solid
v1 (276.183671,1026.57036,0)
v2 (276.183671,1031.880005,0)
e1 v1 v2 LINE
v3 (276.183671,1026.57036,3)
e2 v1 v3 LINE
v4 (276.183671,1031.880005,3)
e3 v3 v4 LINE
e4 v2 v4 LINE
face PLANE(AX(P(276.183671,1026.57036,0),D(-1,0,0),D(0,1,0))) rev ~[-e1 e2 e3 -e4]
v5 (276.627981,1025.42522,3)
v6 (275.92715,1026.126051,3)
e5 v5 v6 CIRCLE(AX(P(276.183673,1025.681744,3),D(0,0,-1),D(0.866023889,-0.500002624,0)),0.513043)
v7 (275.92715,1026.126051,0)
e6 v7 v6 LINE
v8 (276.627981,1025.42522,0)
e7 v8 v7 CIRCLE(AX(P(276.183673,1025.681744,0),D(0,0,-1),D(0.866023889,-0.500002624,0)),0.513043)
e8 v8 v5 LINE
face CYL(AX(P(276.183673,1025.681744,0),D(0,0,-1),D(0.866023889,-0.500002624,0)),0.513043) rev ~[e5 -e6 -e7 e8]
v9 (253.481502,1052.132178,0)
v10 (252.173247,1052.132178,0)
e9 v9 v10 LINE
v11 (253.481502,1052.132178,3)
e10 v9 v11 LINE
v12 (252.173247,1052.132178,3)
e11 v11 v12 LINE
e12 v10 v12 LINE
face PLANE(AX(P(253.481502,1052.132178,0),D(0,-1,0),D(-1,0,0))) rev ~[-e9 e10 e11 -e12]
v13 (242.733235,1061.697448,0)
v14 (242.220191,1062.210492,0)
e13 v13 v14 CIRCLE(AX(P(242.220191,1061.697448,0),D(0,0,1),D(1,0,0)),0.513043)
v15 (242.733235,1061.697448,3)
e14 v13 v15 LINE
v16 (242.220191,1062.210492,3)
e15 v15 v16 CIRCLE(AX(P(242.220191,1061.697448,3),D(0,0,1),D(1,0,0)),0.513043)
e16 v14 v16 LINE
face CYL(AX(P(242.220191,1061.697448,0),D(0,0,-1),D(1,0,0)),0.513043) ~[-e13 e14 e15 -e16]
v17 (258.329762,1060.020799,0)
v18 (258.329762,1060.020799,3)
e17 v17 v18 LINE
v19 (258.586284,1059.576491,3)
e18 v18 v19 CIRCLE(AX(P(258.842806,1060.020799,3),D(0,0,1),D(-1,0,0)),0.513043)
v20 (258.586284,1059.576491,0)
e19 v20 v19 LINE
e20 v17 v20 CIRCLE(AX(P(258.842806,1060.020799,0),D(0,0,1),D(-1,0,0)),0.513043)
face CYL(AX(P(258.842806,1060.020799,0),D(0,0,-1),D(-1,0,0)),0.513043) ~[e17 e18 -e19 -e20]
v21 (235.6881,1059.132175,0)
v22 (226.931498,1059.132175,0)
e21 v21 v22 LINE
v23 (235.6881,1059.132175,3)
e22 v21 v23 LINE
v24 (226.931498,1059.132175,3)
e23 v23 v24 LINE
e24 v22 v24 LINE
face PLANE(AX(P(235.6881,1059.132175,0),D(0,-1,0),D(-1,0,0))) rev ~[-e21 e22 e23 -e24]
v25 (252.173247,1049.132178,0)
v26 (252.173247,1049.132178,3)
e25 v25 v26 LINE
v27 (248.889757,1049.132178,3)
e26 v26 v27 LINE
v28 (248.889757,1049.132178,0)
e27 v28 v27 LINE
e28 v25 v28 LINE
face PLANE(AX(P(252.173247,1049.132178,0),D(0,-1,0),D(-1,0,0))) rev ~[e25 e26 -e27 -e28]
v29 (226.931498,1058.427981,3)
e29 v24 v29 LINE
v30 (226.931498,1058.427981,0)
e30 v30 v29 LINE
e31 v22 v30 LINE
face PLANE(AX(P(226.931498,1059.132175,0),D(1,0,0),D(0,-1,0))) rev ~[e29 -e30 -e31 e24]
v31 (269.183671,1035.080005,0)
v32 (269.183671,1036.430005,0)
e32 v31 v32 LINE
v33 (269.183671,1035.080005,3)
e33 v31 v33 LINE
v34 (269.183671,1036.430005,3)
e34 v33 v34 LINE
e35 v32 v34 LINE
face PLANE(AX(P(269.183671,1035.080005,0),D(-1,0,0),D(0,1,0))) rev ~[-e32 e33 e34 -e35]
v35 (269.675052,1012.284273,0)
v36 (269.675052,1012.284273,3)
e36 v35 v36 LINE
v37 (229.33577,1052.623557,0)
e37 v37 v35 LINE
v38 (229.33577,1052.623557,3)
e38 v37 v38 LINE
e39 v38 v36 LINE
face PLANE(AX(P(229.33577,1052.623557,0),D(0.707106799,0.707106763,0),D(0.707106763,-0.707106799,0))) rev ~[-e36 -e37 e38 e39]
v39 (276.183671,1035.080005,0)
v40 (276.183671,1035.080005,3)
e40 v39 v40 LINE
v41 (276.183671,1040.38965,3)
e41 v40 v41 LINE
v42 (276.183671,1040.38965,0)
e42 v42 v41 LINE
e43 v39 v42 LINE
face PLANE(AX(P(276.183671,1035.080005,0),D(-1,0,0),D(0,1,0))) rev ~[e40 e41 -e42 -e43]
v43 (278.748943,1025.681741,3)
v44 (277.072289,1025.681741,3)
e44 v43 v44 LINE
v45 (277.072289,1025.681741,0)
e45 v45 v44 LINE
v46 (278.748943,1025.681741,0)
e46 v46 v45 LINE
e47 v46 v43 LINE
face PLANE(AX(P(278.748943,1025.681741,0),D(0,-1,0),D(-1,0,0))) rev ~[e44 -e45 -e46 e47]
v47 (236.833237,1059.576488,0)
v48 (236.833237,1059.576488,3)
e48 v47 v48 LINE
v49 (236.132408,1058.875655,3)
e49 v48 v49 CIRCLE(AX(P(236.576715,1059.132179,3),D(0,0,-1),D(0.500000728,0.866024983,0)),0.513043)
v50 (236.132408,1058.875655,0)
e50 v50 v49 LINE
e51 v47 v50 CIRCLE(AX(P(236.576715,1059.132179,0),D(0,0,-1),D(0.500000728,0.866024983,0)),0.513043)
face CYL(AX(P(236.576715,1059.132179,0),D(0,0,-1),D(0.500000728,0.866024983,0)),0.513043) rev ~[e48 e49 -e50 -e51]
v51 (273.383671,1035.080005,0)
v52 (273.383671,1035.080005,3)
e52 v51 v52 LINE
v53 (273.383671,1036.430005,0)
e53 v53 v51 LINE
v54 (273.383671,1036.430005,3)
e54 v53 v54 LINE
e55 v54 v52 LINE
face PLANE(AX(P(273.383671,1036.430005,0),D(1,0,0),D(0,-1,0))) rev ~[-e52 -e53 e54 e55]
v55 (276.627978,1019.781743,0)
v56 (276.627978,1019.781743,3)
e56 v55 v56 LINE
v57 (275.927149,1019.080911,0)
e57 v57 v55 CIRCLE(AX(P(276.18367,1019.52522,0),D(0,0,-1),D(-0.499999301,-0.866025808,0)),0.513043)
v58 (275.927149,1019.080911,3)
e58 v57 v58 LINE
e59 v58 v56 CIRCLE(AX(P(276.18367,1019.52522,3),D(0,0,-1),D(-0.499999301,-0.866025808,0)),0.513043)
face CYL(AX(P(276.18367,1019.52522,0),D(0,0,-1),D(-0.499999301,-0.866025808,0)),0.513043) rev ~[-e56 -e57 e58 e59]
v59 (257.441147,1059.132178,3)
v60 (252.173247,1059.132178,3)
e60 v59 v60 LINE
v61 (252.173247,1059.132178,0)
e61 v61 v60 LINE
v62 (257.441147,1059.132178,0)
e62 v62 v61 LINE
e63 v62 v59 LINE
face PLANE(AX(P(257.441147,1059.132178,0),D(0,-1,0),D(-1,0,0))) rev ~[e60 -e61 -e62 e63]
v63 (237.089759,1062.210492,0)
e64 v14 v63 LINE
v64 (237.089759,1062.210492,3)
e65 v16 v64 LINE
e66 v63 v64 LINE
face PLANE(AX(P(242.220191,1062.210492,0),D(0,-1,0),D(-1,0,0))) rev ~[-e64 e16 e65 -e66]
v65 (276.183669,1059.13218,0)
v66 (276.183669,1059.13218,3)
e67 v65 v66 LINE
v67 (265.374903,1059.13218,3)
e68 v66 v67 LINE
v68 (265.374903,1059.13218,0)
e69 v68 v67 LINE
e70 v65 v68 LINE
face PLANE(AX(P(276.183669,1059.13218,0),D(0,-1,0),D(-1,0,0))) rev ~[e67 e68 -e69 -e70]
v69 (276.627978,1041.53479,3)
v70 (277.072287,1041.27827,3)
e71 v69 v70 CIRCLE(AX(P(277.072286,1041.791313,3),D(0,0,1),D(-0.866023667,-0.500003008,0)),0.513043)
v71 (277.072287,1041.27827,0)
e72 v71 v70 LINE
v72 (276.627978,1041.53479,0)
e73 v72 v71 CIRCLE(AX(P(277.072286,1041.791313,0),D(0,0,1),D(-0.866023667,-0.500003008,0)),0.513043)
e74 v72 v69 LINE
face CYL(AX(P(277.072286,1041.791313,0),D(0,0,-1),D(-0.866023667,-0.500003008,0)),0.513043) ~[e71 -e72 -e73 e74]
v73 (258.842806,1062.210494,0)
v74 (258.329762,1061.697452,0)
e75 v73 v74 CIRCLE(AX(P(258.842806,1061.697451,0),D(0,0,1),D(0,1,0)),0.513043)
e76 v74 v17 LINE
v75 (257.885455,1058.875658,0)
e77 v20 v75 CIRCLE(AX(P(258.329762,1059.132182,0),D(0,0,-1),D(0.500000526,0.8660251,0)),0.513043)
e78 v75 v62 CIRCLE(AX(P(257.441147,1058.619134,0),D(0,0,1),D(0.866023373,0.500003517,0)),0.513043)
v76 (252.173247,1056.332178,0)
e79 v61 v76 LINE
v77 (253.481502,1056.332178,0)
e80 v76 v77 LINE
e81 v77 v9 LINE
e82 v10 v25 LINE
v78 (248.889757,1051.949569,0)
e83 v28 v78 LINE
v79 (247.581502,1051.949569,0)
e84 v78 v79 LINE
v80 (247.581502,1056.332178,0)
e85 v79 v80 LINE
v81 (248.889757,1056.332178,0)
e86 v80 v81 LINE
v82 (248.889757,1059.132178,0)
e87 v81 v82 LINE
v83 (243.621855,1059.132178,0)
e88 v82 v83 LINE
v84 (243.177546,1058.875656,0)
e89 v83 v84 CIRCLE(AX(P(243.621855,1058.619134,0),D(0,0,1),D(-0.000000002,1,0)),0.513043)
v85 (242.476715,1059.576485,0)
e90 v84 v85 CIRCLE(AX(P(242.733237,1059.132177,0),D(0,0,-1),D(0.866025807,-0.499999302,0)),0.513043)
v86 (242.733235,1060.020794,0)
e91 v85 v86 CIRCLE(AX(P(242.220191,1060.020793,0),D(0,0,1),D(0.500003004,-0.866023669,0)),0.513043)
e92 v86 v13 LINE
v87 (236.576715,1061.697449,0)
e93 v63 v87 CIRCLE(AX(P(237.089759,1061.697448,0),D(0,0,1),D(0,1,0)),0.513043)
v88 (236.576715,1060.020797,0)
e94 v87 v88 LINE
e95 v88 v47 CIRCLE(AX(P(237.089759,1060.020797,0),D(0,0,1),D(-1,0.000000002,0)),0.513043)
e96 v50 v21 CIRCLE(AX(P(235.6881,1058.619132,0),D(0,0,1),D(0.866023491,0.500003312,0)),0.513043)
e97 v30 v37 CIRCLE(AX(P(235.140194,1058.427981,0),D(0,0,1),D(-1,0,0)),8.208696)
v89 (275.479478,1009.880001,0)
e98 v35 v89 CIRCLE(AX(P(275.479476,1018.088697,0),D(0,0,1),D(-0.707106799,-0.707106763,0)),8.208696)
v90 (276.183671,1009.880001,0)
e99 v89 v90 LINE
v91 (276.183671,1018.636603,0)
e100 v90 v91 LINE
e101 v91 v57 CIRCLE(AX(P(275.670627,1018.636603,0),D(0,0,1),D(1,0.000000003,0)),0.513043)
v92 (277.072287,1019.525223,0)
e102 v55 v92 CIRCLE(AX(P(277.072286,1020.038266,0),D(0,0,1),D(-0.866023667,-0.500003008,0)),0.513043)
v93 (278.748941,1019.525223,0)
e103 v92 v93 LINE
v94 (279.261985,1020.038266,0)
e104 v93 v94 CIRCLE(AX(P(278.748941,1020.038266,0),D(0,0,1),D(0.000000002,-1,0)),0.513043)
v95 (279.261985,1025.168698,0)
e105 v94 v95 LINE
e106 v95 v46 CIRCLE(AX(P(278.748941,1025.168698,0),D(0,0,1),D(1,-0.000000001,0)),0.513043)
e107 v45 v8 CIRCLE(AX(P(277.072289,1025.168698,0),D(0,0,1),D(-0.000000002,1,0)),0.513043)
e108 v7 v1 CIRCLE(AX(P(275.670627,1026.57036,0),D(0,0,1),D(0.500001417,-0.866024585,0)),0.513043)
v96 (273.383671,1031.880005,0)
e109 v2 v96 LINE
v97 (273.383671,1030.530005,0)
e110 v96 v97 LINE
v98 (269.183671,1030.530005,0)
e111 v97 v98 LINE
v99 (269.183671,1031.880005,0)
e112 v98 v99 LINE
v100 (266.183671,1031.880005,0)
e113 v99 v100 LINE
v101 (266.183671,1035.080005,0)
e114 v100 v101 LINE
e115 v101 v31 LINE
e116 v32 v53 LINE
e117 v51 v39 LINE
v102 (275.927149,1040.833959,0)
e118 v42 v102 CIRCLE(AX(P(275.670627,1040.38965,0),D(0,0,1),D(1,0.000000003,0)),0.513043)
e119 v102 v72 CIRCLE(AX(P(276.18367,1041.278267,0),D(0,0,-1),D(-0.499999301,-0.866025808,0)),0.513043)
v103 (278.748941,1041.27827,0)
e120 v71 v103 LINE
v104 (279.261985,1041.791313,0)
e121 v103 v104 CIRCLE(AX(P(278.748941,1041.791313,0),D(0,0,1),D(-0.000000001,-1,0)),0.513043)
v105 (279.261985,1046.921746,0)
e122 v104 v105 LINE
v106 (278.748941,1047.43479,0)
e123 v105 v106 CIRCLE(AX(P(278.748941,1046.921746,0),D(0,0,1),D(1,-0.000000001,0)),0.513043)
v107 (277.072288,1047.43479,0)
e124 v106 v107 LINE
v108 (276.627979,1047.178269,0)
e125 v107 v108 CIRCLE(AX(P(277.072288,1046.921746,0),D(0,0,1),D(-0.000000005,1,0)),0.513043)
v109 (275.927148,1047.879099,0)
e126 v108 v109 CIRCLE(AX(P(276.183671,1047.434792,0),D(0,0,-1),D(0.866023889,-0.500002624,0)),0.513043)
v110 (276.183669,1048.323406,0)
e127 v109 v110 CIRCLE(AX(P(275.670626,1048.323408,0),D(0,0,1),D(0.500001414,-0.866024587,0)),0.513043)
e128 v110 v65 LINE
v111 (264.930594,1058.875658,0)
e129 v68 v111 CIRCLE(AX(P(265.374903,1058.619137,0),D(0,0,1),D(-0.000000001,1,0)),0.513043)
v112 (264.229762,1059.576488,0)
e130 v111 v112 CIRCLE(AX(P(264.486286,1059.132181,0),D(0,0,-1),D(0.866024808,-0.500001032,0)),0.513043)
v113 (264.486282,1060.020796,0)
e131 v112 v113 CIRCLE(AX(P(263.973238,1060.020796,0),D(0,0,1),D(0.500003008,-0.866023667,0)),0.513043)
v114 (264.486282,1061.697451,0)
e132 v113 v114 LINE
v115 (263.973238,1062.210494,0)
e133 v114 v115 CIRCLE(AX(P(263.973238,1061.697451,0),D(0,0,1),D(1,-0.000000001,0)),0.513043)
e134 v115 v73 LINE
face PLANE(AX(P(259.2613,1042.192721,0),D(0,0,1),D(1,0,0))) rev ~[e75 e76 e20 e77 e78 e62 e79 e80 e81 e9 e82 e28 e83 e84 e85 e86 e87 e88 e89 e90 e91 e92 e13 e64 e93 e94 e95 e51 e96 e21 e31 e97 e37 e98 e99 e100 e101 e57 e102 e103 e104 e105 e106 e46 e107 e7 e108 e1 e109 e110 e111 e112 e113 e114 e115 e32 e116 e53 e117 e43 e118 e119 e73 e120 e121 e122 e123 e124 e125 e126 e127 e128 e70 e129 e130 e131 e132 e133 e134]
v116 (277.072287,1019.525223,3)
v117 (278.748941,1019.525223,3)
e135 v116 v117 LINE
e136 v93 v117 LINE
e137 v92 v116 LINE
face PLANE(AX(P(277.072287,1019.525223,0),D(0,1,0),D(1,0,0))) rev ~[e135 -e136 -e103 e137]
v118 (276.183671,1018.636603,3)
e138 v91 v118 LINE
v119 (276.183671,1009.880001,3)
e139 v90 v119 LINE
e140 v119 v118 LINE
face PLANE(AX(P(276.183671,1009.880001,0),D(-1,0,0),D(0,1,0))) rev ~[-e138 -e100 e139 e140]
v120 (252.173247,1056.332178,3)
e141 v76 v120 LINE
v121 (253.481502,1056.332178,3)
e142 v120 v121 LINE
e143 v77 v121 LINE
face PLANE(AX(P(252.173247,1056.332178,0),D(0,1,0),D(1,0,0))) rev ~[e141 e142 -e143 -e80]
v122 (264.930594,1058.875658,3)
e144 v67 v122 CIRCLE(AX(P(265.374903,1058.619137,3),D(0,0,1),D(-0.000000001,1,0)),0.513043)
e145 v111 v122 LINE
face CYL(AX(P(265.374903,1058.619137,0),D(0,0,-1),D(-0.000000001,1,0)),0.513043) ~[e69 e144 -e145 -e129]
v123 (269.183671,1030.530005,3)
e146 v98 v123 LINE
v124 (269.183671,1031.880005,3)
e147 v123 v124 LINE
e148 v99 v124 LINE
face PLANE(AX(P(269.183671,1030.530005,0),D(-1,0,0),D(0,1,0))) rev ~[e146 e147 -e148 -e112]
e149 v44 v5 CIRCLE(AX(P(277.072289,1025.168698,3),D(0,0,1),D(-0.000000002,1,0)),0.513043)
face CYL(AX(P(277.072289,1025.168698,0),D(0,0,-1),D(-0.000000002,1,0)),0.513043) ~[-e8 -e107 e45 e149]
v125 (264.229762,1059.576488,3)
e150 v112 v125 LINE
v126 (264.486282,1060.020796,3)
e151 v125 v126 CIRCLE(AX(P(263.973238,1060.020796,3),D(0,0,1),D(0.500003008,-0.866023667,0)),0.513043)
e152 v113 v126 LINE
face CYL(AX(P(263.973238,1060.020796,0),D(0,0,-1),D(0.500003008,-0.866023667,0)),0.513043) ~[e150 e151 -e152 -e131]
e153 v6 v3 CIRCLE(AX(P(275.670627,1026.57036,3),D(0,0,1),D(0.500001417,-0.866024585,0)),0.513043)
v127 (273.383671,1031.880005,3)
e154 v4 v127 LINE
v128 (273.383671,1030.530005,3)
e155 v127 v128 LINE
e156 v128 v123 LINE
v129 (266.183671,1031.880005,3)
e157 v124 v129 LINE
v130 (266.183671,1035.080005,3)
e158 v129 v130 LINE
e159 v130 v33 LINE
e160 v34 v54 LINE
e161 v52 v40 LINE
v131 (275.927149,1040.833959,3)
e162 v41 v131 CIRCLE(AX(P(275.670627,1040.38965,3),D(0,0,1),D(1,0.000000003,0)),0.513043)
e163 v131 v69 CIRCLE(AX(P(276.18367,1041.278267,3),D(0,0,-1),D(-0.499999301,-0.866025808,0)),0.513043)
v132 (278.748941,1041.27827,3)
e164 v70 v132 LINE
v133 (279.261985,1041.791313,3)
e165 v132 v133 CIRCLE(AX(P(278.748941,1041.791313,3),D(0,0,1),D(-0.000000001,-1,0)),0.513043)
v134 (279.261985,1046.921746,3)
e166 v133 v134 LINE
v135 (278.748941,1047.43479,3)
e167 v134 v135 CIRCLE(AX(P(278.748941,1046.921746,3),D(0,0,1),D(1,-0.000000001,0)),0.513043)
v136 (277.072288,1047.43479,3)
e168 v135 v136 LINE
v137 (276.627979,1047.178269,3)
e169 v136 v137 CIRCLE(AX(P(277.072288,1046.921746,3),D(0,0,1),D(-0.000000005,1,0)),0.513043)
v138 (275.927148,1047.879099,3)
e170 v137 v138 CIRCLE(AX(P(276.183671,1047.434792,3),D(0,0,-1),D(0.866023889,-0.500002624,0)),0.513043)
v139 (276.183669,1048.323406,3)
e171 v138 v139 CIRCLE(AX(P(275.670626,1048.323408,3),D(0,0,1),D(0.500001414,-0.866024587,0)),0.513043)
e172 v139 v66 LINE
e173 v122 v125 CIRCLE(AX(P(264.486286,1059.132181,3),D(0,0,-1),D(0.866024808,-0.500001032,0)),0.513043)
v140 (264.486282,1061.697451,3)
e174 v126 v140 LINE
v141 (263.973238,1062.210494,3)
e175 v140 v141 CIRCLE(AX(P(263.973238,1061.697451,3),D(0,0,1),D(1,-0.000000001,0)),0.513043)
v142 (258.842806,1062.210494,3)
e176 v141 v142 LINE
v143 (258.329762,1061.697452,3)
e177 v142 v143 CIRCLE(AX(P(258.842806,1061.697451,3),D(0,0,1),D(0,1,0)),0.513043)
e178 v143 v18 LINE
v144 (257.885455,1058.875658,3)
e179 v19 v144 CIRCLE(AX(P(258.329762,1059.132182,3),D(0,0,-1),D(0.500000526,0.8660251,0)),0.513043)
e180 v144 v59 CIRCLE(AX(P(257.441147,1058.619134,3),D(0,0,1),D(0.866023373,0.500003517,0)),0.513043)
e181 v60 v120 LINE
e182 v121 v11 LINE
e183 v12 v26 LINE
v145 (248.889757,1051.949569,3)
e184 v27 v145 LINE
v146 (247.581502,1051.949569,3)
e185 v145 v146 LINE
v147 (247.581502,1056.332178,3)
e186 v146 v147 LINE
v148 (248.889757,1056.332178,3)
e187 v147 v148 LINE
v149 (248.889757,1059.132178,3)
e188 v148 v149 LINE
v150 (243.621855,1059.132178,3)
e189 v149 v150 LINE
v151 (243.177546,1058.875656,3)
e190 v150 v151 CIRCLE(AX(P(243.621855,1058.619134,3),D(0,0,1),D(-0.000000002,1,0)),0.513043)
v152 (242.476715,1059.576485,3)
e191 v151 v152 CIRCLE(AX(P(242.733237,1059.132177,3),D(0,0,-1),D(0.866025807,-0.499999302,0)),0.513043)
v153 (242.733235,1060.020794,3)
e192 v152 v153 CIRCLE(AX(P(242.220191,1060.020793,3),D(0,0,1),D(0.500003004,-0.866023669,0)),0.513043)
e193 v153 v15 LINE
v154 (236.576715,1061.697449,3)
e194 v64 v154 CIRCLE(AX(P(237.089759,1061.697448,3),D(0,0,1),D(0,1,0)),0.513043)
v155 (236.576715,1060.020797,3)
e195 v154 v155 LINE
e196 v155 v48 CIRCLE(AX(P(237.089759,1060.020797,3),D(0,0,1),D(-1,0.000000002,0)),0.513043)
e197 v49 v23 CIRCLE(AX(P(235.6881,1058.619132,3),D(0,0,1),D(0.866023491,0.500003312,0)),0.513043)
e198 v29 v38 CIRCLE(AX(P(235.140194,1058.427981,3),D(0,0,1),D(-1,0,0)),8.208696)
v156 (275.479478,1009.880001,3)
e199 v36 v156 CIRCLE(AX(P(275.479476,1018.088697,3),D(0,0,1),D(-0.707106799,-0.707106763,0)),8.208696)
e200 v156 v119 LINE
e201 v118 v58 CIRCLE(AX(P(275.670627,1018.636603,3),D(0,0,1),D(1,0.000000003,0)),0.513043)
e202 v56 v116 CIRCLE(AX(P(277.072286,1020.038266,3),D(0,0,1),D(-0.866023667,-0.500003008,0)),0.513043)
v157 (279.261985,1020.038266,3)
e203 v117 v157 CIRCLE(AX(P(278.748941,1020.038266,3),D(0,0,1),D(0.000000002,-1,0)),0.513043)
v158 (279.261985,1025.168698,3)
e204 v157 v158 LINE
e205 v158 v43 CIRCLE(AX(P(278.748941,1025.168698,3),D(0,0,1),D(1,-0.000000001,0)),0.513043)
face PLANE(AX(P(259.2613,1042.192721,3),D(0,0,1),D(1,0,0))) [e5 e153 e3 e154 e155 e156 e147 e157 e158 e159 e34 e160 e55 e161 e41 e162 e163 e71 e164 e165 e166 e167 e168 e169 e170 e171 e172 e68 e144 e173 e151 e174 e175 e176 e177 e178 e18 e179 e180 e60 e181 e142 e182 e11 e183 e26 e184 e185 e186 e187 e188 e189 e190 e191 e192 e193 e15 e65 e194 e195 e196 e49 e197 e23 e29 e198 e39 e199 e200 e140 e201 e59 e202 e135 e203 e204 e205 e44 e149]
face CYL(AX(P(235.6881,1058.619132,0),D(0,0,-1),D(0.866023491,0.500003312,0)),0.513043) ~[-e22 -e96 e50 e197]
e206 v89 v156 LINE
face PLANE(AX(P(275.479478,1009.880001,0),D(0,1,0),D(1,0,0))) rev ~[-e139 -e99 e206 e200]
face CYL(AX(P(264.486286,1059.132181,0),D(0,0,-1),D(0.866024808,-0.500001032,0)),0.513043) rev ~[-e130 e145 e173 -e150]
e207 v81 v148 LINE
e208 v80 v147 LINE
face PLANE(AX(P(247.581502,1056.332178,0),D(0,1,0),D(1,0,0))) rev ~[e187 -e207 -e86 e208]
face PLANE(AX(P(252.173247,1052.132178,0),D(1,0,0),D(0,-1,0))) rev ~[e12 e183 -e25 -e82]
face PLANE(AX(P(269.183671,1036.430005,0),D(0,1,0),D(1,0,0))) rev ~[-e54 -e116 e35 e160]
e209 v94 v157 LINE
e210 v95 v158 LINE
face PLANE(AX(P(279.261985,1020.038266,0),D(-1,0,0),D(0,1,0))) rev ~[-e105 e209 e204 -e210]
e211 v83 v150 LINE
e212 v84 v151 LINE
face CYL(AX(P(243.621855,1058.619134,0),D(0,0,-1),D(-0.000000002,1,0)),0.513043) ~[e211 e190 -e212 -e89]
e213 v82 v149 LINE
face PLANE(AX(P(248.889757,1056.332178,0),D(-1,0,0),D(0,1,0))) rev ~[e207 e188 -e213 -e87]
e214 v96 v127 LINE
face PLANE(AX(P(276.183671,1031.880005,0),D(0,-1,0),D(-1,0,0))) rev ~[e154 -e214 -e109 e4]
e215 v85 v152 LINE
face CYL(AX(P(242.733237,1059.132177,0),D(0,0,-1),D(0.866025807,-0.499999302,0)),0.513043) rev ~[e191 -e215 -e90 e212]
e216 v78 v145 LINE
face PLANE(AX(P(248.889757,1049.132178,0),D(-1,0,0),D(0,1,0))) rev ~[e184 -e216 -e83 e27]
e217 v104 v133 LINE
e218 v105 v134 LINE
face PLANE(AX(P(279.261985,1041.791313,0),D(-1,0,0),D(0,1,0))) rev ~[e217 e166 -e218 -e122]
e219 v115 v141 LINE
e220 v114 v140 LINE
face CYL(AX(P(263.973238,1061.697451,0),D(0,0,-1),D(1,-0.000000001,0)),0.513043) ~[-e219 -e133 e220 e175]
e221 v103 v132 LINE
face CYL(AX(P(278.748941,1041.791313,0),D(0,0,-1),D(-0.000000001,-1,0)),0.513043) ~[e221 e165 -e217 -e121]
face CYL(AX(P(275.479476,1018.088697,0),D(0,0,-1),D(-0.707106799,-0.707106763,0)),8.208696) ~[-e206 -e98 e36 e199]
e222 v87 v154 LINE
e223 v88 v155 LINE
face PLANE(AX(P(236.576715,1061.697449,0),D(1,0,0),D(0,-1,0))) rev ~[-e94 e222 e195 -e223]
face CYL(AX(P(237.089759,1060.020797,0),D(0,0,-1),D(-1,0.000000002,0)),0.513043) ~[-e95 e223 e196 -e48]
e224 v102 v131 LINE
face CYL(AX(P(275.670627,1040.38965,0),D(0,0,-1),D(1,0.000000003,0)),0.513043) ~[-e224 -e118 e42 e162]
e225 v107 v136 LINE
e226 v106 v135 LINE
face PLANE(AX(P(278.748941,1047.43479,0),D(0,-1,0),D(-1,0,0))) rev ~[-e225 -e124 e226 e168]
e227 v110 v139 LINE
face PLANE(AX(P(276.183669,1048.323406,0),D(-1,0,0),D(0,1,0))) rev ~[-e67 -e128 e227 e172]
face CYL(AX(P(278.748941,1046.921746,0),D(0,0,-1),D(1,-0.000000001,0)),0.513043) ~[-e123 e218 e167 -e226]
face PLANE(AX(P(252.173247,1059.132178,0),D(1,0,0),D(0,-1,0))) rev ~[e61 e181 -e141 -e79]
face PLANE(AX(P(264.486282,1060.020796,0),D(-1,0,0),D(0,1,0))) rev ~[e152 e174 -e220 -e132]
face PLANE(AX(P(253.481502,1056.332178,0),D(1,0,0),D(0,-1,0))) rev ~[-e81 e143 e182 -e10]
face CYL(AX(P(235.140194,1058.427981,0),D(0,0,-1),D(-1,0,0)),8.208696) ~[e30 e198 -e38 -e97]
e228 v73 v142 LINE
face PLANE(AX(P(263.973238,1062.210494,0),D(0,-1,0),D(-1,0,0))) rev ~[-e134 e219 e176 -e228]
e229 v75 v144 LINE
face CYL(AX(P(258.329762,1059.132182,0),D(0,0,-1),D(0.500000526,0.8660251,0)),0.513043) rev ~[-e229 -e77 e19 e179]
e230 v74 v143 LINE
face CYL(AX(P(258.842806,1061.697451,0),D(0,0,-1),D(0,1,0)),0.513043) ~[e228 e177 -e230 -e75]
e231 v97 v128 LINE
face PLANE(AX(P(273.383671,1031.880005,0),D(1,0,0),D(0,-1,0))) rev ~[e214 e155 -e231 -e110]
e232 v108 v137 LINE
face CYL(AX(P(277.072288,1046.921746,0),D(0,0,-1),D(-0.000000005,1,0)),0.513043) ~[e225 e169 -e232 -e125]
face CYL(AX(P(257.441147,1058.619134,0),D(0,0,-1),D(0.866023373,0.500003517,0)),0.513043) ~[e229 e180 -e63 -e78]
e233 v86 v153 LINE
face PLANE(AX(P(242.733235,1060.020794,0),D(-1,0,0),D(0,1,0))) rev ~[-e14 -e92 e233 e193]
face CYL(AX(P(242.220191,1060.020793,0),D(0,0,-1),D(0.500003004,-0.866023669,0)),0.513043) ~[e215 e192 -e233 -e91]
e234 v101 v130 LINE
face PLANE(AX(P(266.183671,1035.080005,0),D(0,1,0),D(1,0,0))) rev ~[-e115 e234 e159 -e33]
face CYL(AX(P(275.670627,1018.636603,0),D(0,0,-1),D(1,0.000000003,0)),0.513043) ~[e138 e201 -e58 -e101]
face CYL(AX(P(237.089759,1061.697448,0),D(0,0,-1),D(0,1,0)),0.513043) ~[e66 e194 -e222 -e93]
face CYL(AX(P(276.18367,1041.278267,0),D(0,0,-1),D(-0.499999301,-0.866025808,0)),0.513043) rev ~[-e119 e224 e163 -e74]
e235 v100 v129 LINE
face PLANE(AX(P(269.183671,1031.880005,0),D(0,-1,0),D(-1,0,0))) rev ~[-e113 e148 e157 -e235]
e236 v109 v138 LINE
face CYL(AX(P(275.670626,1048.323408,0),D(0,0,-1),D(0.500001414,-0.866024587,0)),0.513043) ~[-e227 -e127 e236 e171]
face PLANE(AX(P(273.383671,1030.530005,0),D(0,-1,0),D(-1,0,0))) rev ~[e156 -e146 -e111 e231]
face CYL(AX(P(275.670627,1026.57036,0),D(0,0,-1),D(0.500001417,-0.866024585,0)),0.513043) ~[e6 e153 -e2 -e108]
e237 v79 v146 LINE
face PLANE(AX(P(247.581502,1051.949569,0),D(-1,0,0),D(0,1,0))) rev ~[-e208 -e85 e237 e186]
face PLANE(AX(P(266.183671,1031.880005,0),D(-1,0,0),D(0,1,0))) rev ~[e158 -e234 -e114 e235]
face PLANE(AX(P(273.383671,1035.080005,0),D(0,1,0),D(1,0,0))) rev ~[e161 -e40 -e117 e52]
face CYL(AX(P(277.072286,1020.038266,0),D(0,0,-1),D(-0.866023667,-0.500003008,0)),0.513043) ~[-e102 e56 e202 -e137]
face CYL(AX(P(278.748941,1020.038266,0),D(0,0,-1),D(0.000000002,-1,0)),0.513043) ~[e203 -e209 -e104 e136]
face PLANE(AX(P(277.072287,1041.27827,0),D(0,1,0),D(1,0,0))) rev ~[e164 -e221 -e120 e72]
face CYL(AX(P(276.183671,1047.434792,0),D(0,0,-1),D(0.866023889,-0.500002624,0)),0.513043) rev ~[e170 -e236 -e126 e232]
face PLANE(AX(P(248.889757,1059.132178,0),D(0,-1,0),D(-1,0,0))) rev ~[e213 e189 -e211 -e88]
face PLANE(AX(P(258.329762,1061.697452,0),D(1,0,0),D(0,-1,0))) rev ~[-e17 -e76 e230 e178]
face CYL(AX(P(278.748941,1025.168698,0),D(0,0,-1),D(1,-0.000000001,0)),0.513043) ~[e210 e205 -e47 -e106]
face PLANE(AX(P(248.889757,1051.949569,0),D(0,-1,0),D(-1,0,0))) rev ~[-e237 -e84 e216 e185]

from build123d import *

# Parameters (mm, degrees)
BOSS_EXTRUDE1_DEPTH = 3


with BuildPart() as part:
    # Sketch1 → Boss-Extrude1 (new body)
    with BuildSketch(Plane.XY):
        with BuildLine():
            Line((278.748942769, 1025.68174137), (277.072289062, 1025.68174137))
            ThreePointArc((277.072289062, 1025.68174137), (276.81576773, 1025.613006812), (276.627980847, 1025.425220446))
            ThreePointArc((276.627980847, 1025.425220446), (275.820896535, 1025.31896689), (275.927149562, 1026.126051271))
            ThreePointArc((275.927149562, 1026.126051271), (276.114935991, 1026.313838161), (276.183670574, 1026.570359537))
            Line((276.183670574, 1026.570359537), (276.183670574, 1031.88000541))
            Line((276.183670574, 1031.88000541), (273.383670574, 1031.88000541))
            Line((273.383670574, 1031.88000541), (273.383670574, 1030.53000541))
            Line((273.383670574, 1030.53000541), (269.183670574, 1030.53000541))
            Line((269.183670574, 1030.53000541), (269.183670574, 1031.88000541))
            Line((269.183670574, 1031.88000541), (266.183670574, 1031.88000541))
            Line((266.183670574, 1031.88000541), (266.183670574, 1035.08000541))
            Line((266.183670574, 1035.08000541), (269.183670574, 1035.08000541))
            Line((269.183670574, 1035.08000541), (269.183670574, 1036.43000541))
            Line((269.183670574, 1036.43000541), (273.383670574, 1036.43000541))
            Line((273.383670574, 1036.43000541), (273.383670574, 1035.08000541))
            Line((273.383670574, 1035.08000541), (276.183670574, 1035.08000541))
            Line((276.183670574, 1035.08000541), (276.183670574, 1040.389649836))
            ThreePointArc((276.183670574, 1040.389649836), (276.114935781, 1040.646171575), (275.927148835, 1040.833958522))
            ThreePointArc((275.927148835, 1040.833958522), (275.820893173, 1041.641043417), (276.627978373, 1041.534790067))
            ThreePointArc((276.627978373, 1041.534790067), (276.815765346, 1041.347004134), (277.072286505, 1041.278269871))
            Line((277.072286505, 1041.278269871), (278.748941322, 1041.278269871))
            ThreePointArc((278.748941322, 1041.278269871), (279.111717845, 1041.428536827), (279.2619848, 1041.791313349))
            Line((279.2619848, 1041.791313349), (279.2619848, 1046.92174608))
            ThreePointArc((279.2619848, 1046.92174608), (279.111717845, 1047.284522602), (278.748941322, 1047.434789558))
            Line((278.748941322, 1047.434789558), (277.072287615, 1047.434789558))
            ThreePointArc((277.072287615, 1047.434789558), (276.815766284, 1047.366055), (276.6279794, 1047.178268634))
            ThreePointArc((276.6279794, 1047.178268634), (275.820895088, 1047.072015078), (275.927148115, 1047.879099459))
            ThreePointArc((275.927148115, 1047.879099459), (276.114934137, 1048.066885643), (276.183669127, 1048.323406094))
            Line((276.183669127, 1048.323406094), (276.183669127, 1059.132180233))
            Line((276.183669127, 1059.132180233), (265.374902832, 1059.132180233))
            ThreePointArc((265.374902832, 1059.132180233), (265.118381093, 1059.06344544), (264.930594147, 1058.875658494))
            ThreePointArc((264.930594147, 1058.875658494), (264.12351003, 1058.769403455), (264.229761575, 1059.576488032))
            ThreePointArc((264.229761575, 1059.576488032), (264.417547508, 1059.764275005), (264.486281771, 1060.020796163))
            Line((264.486281771, 1060.020796163), (264.486281771, 1061.697450981))
            ThreePointArc((264.486281771, 1061.697450981), (264.336014816, 1062.060227503), (263.973238293, 1062.210494459))
            Line((263.973238293, 1062.210494459), (258.842805647, 1062.210494459))
            ThreePointArc((258.842805647, 1062.210494459), (258.480029457, 1062.060227836), (258.329762168, 1061.697451923))
            Line((258.329762168, 1061.697451923), (258.329762168, 1060.020799457))
            ThreePointArc((258.329762168, 1060.020799457), (258.398497036, 1059.764277588), (258.586284167, 1059.576490622))
            ThreePointArc((258.586284167, 1059.576490622), (258.692539677, 1058.769406567), (257.885455039, 1058.875657641))
            ThreePointArc((257.885455039, 1058.875657641), (257.697667956, 1059.063443464), (257.441146757, 1059.132177578))
            Line((257.441146757, 1059.132177578), (252.173247105, 1059.132177578))
            Line((252.173247105, 1059.132177578), (252.173247105, 1056.332177578))
            Line((252.173247105, 1056.332177578), (253.481501818, 1056.332177578))
            Line((253.481501818, 1056.332177578), (253.481501818, 1052.132177578))
            Line((253.481501818, 1052.132177578), (252.173247105, 1052.132177578))
            Line((252.173247105, 1052.132177578), (252.173247105, 1049.132177578))
            Line((252.173247105, 1049.132177578), (248.889756531, 1049.132177578))
            Line((248.889756531, 1049.132177578), (248.889756531, 1051.949568882))
            Line((248.889756531, 1051.949568882), (247.581501818, 1051.949568882))
            Line((247.581501818, 1051.949568882), (247.581501818, 1056.332177578))
            Line((247.581501818, 1056.332177578), (248.889756531, 1056.332177578))
            Line((248.889756531, 1056.332177578), (248.889756531, 1059.132177578))
            Line((248.889756531, 1059.132177578), (243.621854827, 1059.132177578))
            ThreePointArc((243.621854827, 1059.132177578), (243.365333088, 1059.063442785), (243.177546141, 1058.875655838))
            ThreePointArc((243.177546141, 1058.875655838), (242.370461246, 1058.769400177), (242.476714596, 1059.576485377))
            ThreePointArc((242.476714596, 1059.576485377), (242.664500529, 1059.764272349), (242.733234792, 1060.020793508))
            Line((242.733234792, 1060.020793508), (242.733234792, 1061.697448325))
            ThreePointArc((242.733234792, 1061.697448325), (242.582967836, 1062.060224848), (242.220191314, 1062.210491804))
            Line((242.220191314, 1062.210491804), (237.089758668, 1062.210491804))
            ThreePointArc((237.089758668, 1062.210491804), (236.726982478, 1062.060225181), (236.576715189, 1061.697449267))
            Line((236.576715189, 1061.697449267), (236.576715189, 1060.020796683))
            ThreePointArc((236.576715189, 1060.020796683), (236.645450027, 1059.764274865), (236.833237085, 1059.576487907))
            ThreePointArc((236.833237085, 1059.576487907), (236.939492407, 1058.769403827), (236.132407793, 1058.875655089))
            ThreePointArc((236.132407793, 1058.875655089), (235.944620754, 1059.063440956), (235.688099571, 1059.132175129))
            Line((235.688099571, 1059.132175129), (226.93149811, 1059.132175129))
            Line((226.93149811, 1059.132175129), (226.93149811, 1058.427981397))
            ThreePointArc((226.93149811, 1058.427981397), (227.55634793, 1055.286649403), (229.335769658, 1052.623556781))
            Line((229.335769658, 1052.623556781), (269.675051729, 1012.284272653))
            ThreePointArc((269.675051729, 1012.284272653), (272.338145025, 1010.504850709), (275.479477777, 1009.880001213))
            Line((275.479477777, 1009.880001213), (276.183670574, 1009.880001213))
            Line((276.183670574, 1009.880001213), (276.183670574, 1018.636602674))
            ThreePointArc((276.183670574, 1018.636602674), (276.114935781, 1018.893124413), (275.927148835, 1019.08091136))
            ThreePointArc((275.927148835, 1019.08091136), (275.820893173, 1019.887996255), (276.627978373, 1019.781742905))
            ThreePointArc((276.627978373, 1019.781742905), (276.815765346, 1019.593956972), (277.072286504, 1019.525222709))
            Line((277.072286504, 1019.525222709), (278.748941322, 1019.525222709))
            ThreePointArc((278.748941322, 1019.525222709), (279.111717844, 1019.675489665), (279.2619848, 1020.038266187))
            Line((279.2619848, 1020.038266187), (279.2619848, 1025.168697892))
            ThreePointArc((279.2619848, 1025.168697892), (279.111718356, 1025.531473903), (278.748942769, 1025.68174137))
        make_face()
    extrude(amount=BOSS_EXTRUDE1_DEPTH)


solid = part.part
